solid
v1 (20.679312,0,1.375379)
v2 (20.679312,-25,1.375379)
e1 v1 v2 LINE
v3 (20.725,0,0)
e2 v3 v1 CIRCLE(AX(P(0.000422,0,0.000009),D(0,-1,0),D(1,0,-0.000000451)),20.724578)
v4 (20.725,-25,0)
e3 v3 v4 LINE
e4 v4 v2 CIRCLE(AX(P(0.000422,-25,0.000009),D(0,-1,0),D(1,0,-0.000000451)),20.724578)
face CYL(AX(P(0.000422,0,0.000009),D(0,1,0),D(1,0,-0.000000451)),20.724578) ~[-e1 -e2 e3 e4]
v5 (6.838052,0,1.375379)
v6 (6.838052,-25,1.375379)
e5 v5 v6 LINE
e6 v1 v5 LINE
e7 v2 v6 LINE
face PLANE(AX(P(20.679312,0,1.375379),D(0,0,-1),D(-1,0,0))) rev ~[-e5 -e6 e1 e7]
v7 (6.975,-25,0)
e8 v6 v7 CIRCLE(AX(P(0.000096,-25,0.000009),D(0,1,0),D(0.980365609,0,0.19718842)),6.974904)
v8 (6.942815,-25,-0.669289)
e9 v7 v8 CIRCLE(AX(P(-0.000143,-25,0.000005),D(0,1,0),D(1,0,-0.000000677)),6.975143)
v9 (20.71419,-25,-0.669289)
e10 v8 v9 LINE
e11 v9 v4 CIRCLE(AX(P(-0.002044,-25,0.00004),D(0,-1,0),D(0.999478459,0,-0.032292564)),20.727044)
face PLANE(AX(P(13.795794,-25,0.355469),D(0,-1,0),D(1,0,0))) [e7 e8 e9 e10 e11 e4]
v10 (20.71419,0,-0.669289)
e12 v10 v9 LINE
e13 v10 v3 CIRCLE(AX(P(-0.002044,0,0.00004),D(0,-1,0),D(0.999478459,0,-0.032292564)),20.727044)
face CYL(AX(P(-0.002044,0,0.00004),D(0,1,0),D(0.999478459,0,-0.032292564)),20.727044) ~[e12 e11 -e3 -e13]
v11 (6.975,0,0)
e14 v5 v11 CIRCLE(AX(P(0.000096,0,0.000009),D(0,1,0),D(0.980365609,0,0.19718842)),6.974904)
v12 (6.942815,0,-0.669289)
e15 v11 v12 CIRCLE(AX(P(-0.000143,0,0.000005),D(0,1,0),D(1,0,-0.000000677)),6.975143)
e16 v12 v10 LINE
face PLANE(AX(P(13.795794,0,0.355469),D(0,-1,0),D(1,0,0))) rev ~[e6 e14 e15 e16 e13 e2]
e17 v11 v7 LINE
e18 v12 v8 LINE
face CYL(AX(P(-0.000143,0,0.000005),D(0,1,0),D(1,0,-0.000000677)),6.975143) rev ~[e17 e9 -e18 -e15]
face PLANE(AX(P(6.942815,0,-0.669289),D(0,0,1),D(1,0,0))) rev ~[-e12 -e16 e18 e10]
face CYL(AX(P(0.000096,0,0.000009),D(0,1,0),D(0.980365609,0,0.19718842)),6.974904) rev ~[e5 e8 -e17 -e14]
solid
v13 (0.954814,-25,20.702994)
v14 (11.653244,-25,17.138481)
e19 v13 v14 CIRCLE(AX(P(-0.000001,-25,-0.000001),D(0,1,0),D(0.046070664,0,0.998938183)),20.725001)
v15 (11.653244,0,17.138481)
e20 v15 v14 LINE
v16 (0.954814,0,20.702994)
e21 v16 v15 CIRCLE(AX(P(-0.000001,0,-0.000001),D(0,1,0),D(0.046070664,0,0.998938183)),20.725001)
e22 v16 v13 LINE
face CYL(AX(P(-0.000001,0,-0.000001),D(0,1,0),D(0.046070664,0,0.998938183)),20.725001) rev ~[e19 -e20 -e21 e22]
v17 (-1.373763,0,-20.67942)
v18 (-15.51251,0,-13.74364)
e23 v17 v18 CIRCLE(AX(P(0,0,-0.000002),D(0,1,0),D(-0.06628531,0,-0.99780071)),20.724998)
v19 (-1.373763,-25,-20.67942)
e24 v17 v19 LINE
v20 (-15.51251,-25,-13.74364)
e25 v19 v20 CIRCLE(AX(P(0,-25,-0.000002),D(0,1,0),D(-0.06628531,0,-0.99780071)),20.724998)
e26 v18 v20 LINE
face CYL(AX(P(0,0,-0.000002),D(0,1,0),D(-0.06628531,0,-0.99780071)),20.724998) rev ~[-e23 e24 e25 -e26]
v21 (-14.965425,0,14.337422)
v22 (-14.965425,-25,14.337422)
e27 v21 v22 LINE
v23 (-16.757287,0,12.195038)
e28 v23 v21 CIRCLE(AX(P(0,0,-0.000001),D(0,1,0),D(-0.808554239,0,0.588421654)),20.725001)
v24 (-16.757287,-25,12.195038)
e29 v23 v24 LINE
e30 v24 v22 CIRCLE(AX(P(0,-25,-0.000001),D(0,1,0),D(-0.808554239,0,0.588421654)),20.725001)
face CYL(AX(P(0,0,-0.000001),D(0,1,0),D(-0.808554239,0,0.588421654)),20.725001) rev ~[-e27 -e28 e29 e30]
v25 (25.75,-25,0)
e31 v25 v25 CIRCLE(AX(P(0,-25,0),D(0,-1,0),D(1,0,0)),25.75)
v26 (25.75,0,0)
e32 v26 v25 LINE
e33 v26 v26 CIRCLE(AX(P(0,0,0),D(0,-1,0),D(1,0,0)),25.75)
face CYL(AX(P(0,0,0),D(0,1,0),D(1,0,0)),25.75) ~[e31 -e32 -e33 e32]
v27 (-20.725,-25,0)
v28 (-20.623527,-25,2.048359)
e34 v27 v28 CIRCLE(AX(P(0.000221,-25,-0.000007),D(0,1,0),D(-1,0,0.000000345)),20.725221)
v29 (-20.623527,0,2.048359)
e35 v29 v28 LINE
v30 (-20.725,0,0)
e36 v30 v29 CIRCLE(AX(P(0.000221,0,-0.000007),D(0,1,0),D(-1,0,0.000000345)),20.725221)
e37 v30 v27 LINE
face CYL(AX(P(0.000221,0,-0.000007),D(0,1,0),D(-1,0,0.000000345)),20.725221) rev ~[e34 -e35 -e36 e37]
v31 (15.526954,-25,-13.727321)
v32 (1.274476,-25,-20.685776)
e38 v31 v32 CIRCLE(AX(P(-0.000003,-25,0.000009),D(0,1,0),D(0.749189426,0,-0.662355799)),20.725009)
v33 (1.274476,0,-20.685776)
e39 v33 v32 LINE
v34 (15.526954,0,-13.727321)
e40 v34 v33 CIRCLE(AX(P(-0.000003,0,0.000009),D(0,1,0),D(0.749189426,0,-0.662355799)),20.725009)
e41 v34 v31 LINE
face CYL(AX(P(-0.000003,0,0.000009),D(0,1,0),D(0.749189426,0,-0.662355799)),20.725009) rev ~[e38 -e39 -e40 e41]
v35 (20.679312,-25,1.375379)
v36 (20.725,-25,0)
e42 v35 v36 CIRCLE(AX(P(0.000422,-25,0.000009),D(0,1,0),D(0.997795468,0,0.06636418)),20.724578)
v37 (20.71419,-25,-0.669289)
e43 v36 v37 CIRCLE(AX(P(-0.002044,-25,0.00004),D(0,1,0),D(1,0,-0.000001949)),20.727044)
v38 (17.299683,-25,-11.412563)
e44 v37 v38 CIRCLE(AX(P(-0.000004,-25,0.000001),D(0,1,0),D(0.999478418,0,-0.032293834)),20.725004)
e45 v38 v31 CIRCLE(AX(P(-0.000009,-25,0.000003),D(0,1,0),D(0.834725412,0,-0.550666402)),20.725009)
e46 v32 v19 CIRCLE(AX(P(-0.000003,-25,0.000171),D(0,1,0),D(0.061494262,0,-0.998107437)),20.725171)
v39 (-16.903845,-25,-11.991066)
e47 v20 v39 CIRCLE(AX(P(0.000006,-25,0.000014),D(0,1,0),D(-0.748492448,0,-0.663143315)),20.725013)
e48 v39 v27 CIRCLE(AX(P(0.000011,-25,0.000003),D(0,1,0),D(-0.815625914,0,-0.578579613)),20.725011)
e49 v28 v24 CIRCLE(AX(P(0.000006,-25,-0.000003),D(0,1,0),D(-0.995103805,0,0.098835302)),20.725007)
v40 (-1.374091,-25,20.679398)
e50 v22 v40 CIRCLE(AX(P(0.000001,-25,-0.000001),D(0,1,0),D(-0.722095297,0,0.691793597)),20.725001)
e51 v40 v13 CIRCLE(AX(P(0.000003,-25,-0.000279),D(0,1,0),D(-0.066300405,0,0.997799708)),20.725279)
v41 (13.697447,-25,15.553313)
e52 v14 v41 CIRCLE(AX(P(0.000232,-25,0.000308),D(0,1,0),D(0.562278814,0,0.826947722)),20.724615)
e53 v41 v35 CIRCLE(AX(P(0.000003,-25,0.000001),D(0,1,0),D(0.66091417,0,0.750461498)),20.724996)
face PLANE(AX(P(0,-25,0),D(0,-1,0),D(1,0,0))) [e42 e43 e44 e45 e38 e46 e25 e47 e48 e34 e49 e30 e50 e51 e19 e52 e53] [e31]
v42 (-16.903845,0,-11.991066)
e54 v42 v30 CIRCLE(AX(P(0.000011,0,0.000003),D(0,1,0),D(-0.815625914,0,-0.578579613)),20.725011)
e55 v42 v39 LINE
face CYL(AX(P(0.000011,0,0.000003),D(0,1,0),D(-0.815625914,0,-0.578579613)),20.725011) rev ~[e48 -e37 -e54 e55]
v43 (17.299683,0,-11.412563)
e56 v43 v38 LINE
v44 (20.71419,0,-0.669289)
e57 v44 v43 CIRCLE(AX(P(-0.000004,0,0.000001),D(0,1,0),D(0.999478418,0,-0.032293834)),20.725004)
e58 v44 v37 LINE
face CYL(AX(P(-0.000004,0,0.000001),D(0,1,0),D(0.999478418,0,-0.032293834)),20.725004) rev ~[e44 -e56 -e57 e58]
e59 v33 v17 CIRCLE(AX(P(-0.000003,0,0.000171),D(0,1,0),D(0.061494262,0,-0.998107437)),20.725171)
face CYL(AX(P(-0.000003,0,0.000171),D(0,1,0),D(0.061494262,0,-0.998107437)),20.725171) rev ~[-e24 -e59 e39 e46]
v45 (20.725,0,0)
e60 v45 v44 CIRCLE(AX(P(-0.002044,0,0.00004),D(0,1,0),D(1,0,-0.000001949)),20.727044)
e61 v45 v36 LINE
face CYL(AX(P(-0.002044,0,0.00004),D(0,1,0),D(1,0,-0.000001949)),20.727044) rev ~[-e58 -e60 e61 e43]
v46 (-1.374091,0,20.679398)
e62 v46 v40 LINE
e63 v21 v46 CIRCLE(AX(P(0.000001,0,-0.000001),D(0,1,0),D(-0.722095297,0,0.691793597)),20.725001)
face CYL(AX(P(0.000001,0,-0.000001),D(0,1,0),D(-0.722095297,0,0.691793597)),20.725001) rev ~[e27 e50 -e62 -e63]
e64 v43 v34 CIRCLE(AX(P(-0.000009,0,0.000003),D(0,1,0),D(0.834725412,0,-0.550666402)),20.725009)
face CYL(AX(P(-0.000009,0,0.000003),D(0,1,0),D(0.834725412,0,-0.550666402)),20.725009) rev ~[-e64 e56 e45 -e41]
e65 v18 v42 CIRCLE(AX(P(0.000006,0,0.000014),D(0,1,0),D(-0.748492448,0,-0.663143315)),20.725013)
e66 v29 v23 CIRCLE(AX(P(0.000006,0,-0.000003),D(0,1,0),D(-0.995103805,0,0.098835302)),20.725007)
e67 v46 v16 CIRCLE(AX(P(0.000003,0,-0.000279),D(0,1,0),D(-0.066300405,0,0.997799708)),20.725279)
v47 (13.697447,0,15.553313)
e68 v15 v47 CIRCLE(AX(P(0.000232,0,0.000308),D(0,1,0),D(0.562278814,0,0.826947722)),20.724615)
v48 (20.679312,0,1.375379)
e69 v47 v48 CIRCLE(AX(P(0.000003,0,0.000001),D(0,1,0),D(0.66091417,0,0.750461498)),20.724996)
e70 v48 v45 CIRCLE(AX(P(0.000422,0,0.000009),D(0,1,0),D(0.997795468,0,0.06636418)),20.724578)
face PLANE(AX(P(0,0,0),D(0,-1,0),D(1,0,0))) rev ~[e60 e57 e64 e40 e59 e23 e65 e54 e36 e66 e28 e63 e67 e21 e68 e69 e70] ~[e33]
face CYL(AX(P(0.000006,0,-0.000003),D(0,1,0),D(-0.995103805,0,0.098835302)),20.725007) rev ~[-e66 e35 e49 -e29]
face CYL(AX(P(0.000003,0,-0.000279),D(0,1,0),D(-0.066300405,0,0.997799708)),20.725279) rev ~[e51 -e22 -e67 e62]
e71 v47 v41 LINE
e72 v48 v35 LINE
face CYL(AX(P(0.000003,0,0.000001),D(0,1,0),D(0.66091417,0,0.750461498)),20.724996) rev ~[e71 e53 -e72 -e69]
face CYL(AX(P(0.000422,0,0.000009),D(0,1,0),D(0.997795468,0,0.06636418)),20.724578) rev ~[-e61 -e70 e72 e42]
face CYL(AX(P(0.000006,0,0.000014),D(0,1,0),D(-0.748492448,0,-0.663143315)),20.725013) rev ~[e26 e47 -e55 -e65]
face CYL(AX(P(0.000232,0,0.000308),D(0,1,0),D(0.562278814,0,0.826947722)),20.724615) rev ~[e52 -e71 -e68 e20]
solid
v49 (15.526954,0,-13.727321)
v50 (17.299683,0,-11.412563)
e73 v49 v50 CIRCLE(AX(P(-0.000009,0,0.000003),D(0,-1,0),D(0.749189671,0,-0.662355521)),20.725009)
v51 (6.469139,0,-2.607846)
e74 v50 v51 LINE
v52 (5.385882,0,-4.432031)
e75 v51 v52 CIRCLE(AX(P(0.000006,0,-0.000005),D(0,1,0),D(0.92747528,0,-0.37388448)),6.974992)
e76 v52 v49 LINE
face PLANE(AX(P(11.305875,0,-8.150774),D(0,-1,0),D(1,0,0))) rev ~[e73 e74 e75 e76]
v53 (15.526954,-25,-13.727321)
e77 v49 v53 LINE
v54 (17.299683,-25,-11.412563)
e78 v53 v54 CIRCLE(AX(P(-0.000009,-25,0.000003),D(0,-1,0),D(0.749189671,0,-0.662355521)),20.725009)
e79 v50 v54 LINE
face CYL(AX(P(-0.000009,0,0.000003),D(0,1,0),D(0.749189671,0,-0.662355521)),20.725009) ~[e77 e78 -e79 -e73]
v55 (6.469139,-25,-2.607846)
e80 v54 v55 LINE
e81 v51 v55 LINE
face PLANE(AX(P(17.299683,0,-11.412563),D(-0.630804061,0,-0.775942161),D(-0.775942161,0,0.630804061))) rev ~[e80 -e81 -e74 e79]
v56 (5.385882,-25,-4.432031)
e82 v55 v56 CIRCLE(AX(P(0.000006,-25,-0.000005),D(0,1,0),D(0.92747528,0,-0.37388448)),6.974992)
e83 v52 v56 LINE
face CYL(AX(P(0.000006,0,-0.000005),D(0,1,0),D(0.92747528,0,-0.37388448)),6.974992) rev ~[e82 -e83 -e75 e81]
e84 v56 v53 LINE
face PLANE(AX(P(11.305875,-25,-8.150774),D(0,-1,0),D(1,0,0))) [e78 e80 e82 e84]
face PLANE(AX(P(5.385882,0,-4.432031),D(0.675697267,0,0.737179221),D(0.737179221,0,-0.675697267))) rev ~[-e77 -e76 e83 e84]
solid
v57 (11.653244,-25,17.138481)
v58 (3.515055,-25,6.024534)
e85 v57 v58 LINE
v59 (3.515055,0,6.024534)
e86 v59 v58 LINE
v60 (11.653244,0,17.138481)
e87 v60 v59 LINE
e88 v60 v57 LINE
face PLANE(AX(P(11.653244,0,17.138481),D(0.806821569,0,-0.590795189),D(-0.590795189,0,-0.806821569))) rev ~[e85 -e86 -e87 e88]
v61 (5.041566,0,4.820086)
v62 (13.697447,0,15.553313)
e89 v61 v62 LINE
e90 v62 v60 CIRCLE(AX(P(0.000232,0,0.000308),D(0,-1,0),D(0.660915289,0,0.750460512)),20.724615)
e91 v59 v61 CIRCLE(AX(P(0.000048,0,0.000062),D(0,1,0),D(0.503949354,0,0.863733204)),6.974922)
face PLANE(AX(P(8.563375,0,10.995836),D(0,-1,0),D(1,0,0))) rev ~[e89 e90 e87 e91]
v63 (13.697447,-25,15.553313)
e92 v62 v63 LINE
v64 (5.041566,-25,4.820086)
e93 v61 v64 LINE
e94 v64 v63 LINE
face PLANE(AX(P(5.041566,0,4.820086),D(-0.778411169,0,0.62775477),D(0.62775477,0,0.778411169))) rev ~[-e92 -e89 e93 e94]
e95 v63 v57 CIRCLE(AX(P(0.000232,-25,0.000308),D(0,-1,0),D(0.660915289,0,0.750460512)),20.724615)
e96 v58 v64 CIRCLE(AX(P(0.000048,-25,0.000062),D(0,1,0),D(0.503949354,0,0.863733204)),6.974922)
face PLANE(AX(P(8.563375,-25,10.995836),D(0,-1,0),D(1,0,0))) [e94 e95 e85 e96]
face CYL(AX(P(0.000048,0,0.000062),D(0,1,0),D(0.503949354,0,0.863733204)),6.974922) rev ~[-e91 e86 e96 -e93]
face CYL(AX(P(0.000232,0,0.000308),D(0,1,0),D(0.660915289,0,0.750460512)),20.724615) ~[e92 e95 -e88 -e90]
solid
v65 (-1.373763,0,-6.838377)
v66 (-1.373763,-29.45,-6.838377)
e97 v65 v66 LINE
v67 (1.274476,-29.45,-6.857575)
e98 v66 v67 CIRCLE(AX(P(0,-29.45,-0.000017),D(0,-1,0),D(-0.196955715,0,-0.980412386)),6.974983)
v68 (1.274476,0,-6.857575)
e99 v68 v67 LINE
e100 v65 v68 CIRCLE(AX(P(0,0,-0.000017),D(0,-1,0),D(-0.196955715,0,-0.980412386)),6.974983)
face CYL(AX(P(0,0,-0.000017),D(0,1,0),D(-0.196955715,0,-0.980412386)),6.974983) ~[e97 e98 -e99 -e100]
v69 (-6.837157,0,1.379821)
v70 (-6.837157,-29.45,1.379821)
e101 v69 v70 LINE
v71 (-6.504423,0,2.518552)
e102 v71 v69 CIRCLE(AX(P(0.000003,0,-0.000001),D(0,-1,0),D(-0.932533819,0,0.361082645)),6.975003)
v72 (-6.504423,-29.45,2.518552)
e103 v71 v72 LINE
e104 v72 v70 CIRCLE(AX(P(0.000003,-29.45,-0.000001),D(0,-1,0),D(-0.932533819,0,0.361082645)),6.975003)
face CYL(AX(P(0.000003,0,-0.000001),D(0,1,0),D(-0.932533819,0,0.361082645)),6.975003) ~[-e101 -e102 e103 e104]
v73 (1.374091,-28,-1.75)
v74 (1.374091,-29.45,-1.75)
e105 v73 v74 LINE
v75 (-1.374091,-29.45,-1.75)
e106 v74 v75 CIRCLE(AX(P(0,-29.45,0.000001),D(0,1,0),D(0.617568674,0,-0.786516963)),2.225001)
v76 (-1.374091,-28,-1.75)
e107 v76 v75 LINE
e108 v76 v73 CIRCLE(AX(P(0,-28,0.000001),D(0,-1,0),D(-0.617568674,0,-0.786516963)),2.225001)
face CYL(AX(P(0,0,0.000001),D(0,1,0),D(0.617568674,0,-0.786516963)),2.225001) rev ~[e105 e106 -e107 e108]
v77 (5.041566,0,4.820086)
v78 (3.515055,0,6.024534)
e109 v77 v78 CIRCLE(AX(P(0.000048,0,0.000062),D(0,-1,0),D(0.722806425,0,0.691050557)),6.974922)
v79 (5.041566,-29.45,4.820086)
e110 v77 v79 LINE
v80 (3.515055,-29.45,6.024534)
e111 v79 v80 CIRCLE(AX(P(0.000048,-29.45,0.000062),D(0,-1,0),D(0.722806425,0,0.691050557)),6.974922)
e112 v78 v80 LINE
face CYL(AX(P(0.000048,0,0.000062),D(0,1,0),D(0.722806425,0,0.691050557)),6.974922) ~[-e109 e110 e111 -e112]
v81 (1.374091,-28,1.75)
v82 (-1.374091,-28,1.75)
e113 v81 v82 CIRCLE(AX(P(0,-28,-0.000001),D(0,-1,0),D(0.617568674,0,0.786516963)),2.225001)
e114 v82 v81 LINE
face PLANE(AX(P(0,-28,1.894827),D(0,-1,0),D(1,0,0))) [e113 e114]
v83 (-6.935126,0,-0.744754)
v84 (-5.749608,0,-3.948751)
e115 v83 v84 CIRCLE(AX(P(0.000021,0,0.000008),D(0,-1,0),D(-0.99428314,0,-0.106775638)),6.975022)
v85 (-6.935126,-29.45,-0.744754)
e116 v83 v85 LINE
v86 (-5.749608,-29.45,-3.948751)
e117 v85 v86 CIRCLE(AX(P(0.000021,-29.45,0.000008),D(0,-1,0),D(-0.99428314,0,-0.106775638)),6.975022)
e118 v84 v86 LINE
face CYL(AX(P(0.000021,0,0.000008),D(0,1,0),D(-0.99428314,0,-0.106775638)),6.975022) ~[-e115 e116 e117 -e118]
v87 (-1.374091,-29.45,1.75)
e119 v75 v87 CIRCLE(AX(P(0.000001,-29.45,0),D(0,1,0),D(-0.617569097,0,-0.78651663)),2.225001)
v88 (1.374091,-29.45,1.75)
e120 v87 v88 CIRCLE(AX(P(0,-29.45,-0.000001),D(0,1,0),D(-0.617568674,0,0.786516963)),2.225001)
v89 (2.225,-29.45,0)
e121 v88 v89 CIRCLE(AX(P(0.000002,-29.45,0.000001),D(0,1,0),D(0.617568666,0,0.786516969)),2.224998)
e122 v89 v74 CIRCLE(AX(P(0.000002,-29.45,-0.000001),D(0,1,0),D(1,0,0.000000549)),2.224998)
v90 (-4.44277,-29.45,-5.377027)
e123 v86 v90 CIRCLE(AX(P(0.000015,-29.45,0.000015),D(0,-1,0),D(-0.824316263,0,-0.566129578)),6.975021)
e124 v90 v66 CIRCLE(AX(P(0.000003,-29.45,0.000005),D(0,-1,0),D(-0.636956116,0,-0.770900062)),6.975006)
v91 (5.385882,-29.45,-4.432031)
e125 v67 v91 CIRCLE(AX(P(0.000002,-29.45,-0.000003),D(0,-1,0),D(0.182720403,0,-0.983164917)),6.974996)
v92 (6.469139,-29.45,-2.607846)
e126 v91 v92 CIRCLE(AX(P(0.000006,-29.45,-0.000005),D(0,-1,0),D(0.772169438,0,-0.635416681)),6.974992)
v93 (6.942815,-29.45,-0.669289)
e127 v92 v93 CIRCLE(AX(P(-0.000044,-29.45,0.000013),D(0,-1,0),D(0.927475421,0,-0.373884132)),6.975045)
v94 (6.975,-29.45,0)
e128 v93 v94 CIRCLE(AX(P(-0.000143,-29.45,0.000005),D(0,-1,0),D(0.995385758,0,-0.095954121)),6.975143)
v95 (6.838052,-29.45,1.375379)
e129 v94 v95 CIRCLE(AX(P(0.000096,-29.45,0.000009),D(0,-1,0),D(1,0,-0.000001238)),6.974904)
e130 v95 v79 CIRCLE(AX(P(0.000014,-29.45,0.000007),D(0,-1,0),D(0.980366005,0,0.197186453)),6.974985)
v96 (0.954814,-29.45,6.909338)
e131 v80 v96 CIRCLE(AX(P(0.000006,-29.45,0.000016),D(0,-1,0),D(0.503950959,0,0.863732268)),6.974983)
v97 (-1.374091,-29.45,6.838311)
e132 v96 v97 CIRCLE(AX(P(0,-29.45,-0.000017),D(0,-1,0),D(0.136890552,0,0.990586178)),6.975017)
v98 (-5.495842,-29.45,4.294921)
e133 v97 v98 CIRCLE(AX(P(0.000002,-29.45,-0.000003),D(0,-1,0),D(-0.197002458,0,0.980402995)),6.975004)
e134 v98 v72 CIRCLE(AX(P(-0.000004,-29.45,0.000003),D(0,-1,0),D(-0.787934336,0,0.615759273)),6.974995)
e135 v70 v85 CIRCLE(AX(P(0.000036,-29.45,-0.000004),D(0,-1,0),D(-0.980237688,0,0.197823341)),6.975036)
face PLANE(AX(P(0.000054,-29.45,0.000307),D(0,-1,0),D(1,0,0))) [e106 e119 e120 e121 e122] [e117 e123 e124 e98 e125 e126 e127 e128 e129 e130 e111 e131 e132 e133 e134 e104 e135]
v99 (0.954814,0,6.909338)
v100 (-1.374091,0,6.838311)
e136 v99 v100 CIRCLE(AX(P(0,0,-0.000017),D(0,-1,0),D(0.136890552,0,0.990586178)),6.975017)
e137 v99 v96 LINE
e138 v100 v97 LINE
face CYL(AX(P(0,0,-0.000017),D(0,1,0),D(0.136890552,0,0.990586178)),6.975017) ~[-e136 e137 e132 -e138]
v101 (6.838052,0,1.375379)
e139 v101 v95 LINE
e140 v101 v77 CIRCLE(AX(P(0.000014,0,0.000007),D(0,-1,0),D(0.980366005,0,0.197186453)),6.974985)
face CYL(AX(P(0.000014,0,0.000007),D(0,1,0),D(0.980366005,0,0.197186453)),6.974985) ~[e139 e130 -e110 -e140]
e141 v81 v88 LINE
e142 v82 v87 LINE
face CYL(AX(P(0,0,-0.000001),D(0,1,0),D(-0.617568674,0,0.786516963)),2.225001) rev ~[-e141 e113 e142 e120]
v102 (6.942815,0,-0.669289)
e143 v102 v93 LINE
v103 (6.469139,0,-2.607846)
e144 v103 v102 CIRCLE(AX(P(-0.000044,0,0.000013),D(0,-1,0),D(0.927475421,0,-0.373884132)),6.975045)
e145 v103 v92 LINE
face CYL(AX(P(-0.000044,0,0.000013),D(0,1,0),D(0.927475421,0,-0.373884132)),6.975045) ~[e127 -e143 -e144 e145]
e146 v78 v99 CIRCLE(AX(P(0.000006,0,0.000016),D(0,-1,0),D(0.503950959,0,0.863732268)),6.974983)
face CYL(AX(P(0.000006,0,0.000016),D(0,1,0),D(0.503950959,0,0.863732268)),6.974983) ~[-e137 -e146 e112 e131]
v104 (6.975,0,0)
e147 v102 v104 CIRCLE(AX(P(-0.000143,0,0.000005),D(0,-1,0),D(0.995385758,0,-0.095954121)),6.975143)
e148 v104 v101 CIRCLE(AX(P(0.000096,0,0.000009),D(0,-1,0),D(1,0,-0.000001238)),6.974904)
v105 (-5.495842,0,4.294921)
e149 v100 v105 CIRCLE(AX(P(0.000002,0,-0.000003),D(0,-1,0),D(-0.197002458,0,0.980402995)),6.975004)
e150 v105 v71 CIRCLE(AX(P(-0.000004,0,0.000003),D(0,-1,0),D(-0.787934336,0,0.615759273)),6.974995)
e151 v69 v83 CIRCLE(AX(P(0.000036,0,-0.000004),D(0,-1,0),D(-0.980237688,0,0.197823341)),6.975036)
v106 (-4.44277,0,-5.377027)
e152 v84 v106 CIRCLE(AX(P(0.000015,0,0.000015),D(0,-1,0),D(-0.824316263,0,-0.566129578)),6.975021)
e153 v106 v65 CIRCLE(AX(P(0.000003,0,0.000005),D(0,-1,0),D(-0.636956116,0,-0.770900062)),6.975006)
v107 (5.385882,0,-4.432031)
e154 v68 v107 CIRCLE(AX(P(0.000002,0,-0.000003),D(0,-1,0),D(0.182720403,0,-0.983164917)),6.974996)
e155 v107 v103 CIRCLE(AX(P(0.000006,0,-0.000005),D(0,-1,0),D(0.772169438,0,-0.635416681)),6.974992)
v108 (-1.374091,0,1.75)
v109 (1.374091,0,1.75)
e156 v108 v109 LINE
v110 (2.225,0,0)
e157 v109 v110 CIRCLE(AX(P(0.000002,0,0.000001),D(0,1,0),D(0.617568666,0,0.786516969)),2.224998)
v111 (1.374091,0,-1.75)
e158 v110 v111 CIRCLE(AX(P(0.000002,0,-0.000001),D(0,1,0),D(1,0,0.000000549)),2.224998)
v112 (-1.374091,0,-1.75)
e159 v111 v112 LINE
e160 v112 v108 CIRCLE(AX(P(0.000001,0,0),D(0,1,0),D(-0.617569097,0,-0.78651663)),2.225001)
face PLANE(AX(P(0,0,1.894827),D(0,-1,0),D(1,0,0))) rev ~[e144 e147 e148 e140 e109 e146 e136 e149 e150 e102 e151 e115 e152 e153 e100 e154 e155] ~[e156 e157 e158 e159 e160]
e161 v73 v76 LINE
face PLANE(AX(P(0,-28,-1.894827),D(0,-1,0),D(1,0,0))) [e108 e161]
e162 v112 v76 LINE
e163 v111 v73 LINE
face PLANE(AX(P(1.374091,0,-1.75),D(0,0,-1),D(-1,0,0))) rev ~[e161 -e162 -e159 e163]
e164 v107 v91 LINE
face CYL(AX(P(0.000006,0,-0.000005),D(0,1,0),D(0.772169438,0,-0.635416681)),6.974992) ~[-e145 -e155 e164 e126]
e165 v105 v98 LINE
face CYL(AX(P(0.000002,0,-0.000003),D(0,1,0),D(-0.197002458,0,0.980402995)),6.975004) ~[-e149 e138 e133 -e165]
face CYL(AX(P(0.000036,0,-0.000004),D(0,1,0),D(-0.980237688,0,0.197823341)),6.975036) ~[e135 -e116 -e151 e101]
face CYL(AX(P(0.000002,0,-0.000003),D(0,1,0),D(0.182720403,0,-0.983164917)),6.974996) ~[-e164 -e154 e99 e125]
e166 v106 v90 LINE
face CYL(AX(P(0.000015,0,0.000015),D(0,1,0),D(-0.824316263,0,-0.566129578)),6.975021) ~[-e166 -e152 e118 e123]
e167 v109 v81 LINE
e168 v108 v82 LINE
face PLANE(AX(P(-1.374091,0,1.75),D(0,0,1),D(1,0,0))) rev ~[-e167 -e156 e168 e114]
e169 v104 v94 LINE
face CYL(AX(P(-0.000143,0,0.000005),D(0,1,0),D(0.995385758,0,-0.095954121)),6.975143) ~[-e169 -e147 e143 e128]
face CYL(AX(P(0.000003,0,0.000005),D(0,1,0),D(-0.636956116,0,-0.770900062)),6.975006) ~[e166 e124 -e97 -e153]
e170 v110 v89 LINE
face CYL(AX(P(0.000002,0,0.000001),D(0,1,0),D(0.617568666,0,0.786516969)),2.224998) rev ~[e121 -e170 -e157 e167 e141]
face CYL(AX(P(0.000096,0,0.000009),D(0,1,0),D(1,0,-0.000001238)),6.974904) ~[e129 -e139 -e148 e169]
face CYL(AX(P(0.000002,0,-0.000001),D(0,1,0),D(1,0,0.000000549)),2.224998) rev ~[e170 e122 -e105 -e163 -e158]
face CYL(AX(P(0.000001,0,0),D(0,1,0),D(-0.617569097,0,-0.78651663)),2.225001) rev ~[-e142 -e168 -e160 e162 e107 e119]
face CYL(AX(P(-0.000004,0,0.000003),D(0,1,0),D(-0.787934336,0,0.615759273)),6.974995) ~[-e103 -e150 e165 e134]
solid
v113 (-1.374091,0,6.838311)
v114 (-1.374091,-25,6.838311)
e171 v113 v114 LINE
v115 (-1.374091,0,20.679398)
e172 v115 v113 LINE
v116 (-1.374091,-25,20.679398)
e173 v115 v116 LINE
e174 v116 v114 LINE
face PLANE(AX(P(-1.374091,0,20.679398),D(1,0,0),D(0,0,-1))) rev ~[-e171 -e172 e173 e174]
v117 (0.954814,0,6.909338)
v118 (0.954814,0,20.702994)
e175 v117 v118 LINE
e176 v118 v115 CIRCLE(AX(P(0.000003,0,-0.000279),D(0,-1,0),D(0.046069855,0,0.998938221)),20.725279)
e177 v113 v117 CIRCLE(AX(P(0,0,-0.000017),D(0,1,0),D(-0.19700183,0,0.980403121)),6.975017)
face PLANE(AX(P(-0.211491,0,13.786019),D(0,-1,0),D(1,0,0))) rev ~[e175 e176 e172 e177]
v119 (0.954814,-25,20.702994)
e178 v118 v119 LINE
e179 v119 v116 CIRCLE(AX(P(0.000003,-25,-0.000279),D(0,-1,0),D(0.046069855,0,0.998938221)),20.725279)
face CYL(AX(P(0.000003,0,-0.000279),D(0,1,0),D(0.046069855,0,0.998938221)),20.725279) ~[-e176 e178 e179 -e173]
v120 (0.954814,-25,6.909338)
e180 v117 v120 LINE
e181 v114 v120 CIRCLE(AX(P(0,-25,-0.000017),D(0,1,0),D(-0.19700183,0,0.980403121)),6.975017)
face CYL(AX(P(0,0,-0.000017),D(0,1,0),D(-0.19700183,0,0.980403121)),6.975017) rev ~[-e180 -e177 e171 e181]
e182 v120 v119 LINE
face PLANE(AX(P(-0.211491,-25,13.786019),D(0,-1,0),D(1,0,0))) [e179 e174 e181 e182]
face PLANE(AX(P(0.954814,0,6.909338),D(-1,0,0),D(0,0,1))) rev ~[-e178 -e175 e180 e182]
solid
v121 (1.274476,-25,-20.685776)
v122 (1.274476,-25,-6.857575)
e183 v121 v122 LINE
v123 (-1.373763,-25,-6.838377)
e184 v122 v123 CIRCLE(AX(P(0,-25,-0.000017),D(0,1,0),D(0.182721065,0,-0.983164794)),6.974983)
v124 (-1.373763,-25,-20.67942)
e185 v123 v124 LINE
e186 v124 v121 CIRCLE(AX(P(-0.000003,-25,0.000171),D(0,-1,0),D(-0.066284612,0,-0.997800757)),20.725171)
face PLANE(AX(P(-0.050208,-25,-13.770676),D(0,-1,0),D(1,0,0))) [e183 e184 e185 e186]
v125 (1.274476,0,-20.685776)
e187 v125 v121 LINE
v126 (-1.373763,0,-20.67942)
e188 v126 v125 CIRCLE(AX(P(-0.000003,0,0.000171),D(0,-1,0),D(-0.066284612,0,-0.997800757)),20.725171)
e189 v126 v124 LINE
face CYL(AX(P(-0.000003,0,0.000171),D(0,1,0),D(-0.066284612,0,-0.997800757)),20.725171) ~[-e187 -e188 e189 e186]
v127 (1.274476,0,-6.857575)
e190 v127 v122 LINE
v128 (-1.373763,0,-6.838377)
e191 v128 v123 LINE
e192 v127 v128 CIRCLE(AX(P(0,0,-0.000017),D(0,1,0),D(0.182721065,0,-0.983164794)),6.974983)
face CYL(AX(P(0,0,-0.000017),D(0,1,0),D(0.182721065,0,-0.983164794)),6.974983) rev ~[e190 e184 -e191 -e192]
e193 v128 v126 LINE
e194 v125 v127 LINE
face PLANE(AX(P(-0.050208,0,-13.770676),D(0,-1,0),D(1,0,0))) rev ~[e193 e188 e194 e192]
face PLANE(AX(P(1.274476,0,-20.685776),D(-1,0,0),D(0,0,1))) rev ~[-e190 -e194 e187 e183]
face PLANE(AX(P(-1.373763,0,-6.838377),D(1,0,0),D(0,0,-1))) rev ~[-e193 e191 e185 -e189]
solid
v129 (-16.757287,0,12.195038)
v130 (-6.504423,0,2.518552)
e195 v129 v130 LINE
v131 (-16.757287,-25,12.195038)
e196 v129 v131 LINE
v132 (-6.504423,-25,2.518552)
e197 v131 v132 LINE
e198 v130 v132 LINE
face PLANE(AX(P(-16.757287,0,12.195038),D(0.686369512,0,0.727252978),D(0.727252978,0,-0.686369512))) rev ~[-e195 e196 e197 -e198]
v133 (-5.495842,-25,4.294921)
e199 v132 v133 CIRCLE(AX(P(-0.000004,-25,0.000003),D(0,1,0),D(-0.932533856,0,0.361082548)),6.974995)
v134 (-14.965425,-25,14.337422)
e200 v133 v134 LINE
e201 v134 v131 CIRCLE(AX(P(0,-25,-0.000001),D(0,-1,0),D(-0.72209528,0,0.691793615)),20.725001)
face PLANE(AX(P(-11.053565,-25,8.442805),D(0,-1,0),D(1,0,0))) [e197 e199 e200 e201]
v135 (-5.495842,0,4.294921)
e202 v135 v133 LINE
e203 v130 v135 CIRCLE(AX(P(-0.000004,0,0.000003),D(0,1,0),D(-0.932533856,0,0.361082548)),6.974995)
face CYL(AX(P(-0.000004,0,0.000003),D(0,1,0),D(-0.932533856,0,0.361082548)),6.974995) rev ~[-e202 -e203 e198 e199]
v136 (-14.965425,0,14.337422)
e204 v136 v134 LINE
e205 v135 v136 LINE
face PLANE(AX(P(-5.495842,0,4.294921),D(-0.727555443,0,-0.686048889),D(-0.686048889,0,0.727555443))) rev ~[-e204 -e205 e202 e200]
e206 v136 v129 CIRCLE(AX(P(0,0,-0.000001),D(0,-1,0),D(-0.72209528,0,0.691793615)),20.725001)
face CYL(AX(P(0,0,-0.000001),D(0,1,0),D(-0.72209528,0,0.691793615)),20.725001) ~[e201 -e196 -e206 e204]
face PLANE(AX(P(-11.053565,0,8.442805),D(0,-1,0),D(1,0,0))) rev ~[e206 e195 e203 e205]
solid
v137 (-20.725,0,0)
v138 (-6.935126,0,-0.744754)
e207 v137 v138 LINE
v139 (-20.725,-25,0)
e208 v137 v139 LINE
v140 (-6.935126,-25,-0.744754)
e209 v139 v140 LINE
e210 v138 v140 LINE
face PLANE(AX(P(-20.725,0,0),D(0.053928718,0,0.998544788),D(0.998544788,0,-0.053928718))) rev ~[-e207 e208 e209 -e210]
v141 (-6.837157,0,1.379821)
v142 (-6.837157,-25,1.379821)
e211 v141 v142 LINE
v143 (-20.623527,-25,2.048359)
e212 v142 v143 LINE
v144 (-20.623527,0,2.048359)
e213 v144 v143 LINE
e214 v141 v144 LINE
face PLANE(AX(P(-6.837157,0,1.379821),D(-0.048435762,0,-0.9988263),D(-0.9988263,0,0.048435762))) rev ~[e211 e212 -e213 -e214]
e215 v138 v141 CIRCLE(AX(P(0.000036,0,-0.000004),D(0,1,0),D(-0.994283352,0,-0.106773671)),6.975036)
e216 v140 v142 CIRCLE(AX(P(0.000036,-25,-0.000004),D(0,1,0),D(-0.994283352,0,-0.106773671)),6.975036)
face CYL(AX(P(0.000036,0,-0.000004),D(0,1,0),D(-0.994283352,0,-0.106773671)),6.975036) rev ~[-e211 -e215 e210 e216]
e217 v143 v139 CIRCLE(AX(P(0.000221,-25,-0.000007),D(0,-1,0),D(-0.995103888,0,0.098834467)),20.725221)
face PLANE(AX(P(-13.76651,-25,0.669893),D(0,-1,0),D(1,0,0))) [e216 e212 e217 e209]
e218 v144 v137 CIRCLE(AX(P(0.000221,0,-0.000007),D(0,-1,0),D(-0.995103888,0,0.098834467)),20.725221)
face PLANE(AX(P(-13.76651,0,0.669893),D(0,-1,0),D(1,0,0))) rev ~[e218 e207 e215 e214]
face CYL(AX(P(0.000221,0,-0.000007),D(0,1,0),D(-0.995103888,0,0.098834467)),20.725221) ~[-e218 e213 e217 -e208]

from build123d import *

# Parameters (mm, degrees)
F0_R     = 25.75
F1_DEPTH = 25
F2_DEPTH = 29.45
F3_DEPTH = 28
F4_DEPTH = 25


with BuildPart() as f1:
    # F0 (on Front) → F1 (new body)
    with BuildSketch(Plane.XZ):
        Circle(F0_R)
        with BuildLine():
            ThreePointArc((20.679312, 1.375379), (20.713575, 0.688069), (20.725, 0))
            ThreePointArc((20.725, 0), (20.722297, -0.334688), (20.71419, -0.669289))
            ThreePointArc((20.71419, -0.669289), (19.751408, -6.277539), (17.299683, -11.412563))
            ThreePointArc((17.299683, -11.412563), (16.454074, -12.601154), (15.526954, -13.727321))
            ThreePointArc((15.526954, -13.727321), (9.092691, -18.623871), (1.274476, -20.685776))
            ThreePointArc((1.274476, -20.685776), (-0.049745, -20.72494), (-1.373763, -20.67942))
            ThreePointArc((-1.373763, -20.67942), (-9.127585, -18.606795), (-15.51251, -13.74364))
            ThreePointArc((-15.51251, -13.74364), (-16.231848, -12.886145), (-16.903845, -11.991066))
            ThreePointArc((-16.903845, -11.991066), (-19.746617, -6.292593), (-20.725, 0))
            ThreePointArc((-20.725, 0), (-20.699616, 1.025436), (-20.623527, 2.048359))
            ThreePointArc((-20.623527, 2.048359), (-19.366726, 7.3794), (-16.757287, 12.195038))
            ThreePointArc((-16.757287, 12.195038), (-15.897486, 13.296449), (-14.965425, 14.337422))
            ThreePointArc((-14.965425, 14.337422), (-8.763567, 18.780988), (-1.374091, 20.679398))
            ThreePointArc((-1.374091, 20.679398), (-0.20997, 20.723936), (0.954814, 20.702994))
            ThreePointArc((0.954814, 20.702994), (6.551124, 19.66236), (11.653244, 17.138481))
            ThreePointArc((11.653244, 17.138481), (12.700102, 16.377822), (13.697447, 15.553313))
            ThreePointArc((13.697447, 15.553313), (18.592844, 9.155969), (20.679312, 1.375379))
        make_face(mode=Mode.SUBTRACT)
    extrude(amount=F1_DEPTH)


with BuildPart() as f2:
    # F0 (on Front) → F2 (new body)
    with BuildSketch(Plane.XZ):
        with BuildLine():
            ThreePointArc((6.975, 0), (6.940679, 0.69109), (6.838052, 1.375379))
            ThreePointArc((6.838052, 1.375379), (6.184484, 3.225335), (5.041566, 4.820086))
            ThreePointArc((5.041566, 4.820086), (4.320488, 5.475766), (3.515055, 6.024534))
            ThreePointArc((3.515055, 6.024534), (2.2783, 6.592418), (0.954814, 6.909338))
            ThreePointArc((0.954814, 6.909338), (-0.212625, 6.971758), (-1.374091, 6.838311))
            ThreePointArc((-1.374091, 6.838311), (-3.662813, 5.935859), (-5.495842, 4.294921))
            ThreePointArc((-5.495842, 4.294921), (-6.065514, 3.443859), (-6.504423, 2.518552))
            ThreePointArc((-6.504423, 2.518552), (-6.695044, 1.956274), (-6.837157, 1.379821))
            ThreePointArc((-6.837157, 1.379821), (-6.967596, 0.321289), (-6.935126, -0.744754))
            ThreePointArc((-6.935126, -0.744754), (-6.54156, -2.420457), (-5.749608, -3.948751))
            ThreePointArc((-5.749608, -3.948751), (-5.145982, -4.708449), (-4.44277, -5.377027))
            ThreePointArc((-4.44277, -5.377027), (-2.99865, -6.297517), (-1.373763, -6.838377))
            ThreePointArc((-1.373763, -6.838377), (-0.050563, -6.974817), (1.274476, -6.857575))
            ThreePointArc((1.274476, -6.857575), (3.544137, -6.007472), (5.385882, -4.432031))
            ThreePointArc((5.385882, -4.432031), (5.997274, -3.561366), (6.469139, -2.607846))
            ThreePointArc((6.469139, -2.607846), (6.775664, -1.655595), (6.942815, -0.669289))
            ThreePointArc((6.942815, -0.669289), (6.966949, -0.335031), (6.975, 0))
        make_face()
        with BuildLine():
            ThreePointArc((1.374091, 1.75), (2.000997, 0.972953), (2.225, 0))
            ThreePointArc((2.225, 0), (2.000997, -0.972953), (1.374091, -1.75))
            ThreePointArc((1.374091, -1.75), (0, -2.225), (-1.374091, -1.75))
            ThreePointArc((-1.374091, -1.75), (-2.225, 0), (-1.374091, 1.75))
            ThreePointArc((-1.374091, 1.75), (0, 2.225), (1.374091, 1.75))
        make_face(mode=Mode.SUBTRACT)
    extrude(amount=F2_DEPTH)

    # F0 (on Front) → F3 (join)
    with BuildSketch(Plane.XZ):
        with BuildLine():
            Line((-1.374091, 1.75), (1.374091, 1.75))
            ThreePointArc((1.374091, 1.75), (0, 2.225), (-1.374091, 1.75))
        make_face()
        with BuildLine():
            ThreePointArc((-1.374091, -1.75), (0, -2.225), (1.374091, -1.75))
            Line((1.374091, -1.75), (-1.374091, -1.75))
        make_face()
    extrude(amount=F3_DEPTH)


with BuildPart() as f4:
    # F0 (on Front) → F4 (new body)
    with BuildSketch(Plane.XZ):
        with BuildLine():
            Line((-5.495842, 4.294921), (-14.965425, 14.337422))
            ThreePointArc((-14.965425, 14.337422), (-15.897486, 13.296449), (-16.757287, 12.195038))
            Line((-16.757287, 12.195038), (-6.504423, 2.518552))
            ThreePointArc((-6.504423, 2.518552), (-6.065514, 3.443859), (-5.495842, 4.294921))
        make_face()
        with BuildLine():
            Line((0.954814, 6.909338), (0.954814, 20.702994))
            ThreePointArc((0.954814, 20.702994), (-0.20997, 20.723936), (-1.374091, 20.679398))
            Line((-1.374091, 20.679398), (-1.374091, 6.838311))
            ThreePointArc((-1.374091, 6.838311), (-0.212625, 6.971758), (0.954814, 6.909338))
        make_face()
        with BuildLine():
            Line((5.041566, 4.820086), (13.697447, 15.553313))
            ThreePointArc((13.697447, 15.553313), (12.700102, 16.377822), (11.653244, 17.138481))
            Line((11.653244, 17.138481), (3.515055, 6.024534))
            ThreePointArc((3.515055, 6.024534), (4.320488, 5.475766), (5.041566, 4.820086))
        make_face()
        with BuildLine():
            ThreePointArc((20.71419, -0.669289), (20.722297, -0.334688), (20.725, 0))
            ThreePointArc((20.725, 0), (20.713575, 0.688069), (20.679312, 1.375379))
            Line((20.679312, 1.375379), (6.838052, 1.375379))
            ThreePointArc((6.838052, 1.375379), (6.940679, 0.69109), (6.975, 0))
            ThreePointArc((6.975, 0), (6.966949, -0.335031), (6.942815, -0.669289))
            Line((6.942815, -0.669289), (20.71419, -0.669289))
        make_face()
        with BuildLine():
            ThreePointArc((15.526954, -13.727321), (16.454074, -12.601154), (17.299683, -11.412563))
            Line((17.299683, -11.412563), (6.469139, -2.607846))
            ThreePointArc((6.469139, -2.607846), (5.997274, -3.561366), (5.385882, -4.432031))
            Line((5.385882, -4.432031), (15.526954, -13.727321))
        make_face()
        with BuildLine():
            Line((-6.837157, 1.379821), (-20.623527, 2.048359))
            ThreePointArc((-20.623527, 2.048359), (-20.699616, 1.025436), (-20.725, 0))
            Line((-20.725, 0), (-6.935126, -0.744754))
            ThreePointArc((-6.935126, -0.744754), (-6.967596, 0.321289), (-6.837157, 1.379821))
        make_face()
        with BuildLine():
            ThreePointArc((-1.373763, -20.67942), (-0.049745, -20.72494), (1.274476, -20.685776))
            Line((1.274476, -20.685776), (1.274476, -6.857575))
            ThreePointArc((1.274476, -6.857575), (-0.050563, -6.974817), (-1.373763, -6.838377))
            Line((-1.373763, -6.838377), (-1.373763, -20.67942))
        make_face()
    extrude(amount=F4_DEPTH)


solid = Compound([f1.part, f2.part, f4.part])
